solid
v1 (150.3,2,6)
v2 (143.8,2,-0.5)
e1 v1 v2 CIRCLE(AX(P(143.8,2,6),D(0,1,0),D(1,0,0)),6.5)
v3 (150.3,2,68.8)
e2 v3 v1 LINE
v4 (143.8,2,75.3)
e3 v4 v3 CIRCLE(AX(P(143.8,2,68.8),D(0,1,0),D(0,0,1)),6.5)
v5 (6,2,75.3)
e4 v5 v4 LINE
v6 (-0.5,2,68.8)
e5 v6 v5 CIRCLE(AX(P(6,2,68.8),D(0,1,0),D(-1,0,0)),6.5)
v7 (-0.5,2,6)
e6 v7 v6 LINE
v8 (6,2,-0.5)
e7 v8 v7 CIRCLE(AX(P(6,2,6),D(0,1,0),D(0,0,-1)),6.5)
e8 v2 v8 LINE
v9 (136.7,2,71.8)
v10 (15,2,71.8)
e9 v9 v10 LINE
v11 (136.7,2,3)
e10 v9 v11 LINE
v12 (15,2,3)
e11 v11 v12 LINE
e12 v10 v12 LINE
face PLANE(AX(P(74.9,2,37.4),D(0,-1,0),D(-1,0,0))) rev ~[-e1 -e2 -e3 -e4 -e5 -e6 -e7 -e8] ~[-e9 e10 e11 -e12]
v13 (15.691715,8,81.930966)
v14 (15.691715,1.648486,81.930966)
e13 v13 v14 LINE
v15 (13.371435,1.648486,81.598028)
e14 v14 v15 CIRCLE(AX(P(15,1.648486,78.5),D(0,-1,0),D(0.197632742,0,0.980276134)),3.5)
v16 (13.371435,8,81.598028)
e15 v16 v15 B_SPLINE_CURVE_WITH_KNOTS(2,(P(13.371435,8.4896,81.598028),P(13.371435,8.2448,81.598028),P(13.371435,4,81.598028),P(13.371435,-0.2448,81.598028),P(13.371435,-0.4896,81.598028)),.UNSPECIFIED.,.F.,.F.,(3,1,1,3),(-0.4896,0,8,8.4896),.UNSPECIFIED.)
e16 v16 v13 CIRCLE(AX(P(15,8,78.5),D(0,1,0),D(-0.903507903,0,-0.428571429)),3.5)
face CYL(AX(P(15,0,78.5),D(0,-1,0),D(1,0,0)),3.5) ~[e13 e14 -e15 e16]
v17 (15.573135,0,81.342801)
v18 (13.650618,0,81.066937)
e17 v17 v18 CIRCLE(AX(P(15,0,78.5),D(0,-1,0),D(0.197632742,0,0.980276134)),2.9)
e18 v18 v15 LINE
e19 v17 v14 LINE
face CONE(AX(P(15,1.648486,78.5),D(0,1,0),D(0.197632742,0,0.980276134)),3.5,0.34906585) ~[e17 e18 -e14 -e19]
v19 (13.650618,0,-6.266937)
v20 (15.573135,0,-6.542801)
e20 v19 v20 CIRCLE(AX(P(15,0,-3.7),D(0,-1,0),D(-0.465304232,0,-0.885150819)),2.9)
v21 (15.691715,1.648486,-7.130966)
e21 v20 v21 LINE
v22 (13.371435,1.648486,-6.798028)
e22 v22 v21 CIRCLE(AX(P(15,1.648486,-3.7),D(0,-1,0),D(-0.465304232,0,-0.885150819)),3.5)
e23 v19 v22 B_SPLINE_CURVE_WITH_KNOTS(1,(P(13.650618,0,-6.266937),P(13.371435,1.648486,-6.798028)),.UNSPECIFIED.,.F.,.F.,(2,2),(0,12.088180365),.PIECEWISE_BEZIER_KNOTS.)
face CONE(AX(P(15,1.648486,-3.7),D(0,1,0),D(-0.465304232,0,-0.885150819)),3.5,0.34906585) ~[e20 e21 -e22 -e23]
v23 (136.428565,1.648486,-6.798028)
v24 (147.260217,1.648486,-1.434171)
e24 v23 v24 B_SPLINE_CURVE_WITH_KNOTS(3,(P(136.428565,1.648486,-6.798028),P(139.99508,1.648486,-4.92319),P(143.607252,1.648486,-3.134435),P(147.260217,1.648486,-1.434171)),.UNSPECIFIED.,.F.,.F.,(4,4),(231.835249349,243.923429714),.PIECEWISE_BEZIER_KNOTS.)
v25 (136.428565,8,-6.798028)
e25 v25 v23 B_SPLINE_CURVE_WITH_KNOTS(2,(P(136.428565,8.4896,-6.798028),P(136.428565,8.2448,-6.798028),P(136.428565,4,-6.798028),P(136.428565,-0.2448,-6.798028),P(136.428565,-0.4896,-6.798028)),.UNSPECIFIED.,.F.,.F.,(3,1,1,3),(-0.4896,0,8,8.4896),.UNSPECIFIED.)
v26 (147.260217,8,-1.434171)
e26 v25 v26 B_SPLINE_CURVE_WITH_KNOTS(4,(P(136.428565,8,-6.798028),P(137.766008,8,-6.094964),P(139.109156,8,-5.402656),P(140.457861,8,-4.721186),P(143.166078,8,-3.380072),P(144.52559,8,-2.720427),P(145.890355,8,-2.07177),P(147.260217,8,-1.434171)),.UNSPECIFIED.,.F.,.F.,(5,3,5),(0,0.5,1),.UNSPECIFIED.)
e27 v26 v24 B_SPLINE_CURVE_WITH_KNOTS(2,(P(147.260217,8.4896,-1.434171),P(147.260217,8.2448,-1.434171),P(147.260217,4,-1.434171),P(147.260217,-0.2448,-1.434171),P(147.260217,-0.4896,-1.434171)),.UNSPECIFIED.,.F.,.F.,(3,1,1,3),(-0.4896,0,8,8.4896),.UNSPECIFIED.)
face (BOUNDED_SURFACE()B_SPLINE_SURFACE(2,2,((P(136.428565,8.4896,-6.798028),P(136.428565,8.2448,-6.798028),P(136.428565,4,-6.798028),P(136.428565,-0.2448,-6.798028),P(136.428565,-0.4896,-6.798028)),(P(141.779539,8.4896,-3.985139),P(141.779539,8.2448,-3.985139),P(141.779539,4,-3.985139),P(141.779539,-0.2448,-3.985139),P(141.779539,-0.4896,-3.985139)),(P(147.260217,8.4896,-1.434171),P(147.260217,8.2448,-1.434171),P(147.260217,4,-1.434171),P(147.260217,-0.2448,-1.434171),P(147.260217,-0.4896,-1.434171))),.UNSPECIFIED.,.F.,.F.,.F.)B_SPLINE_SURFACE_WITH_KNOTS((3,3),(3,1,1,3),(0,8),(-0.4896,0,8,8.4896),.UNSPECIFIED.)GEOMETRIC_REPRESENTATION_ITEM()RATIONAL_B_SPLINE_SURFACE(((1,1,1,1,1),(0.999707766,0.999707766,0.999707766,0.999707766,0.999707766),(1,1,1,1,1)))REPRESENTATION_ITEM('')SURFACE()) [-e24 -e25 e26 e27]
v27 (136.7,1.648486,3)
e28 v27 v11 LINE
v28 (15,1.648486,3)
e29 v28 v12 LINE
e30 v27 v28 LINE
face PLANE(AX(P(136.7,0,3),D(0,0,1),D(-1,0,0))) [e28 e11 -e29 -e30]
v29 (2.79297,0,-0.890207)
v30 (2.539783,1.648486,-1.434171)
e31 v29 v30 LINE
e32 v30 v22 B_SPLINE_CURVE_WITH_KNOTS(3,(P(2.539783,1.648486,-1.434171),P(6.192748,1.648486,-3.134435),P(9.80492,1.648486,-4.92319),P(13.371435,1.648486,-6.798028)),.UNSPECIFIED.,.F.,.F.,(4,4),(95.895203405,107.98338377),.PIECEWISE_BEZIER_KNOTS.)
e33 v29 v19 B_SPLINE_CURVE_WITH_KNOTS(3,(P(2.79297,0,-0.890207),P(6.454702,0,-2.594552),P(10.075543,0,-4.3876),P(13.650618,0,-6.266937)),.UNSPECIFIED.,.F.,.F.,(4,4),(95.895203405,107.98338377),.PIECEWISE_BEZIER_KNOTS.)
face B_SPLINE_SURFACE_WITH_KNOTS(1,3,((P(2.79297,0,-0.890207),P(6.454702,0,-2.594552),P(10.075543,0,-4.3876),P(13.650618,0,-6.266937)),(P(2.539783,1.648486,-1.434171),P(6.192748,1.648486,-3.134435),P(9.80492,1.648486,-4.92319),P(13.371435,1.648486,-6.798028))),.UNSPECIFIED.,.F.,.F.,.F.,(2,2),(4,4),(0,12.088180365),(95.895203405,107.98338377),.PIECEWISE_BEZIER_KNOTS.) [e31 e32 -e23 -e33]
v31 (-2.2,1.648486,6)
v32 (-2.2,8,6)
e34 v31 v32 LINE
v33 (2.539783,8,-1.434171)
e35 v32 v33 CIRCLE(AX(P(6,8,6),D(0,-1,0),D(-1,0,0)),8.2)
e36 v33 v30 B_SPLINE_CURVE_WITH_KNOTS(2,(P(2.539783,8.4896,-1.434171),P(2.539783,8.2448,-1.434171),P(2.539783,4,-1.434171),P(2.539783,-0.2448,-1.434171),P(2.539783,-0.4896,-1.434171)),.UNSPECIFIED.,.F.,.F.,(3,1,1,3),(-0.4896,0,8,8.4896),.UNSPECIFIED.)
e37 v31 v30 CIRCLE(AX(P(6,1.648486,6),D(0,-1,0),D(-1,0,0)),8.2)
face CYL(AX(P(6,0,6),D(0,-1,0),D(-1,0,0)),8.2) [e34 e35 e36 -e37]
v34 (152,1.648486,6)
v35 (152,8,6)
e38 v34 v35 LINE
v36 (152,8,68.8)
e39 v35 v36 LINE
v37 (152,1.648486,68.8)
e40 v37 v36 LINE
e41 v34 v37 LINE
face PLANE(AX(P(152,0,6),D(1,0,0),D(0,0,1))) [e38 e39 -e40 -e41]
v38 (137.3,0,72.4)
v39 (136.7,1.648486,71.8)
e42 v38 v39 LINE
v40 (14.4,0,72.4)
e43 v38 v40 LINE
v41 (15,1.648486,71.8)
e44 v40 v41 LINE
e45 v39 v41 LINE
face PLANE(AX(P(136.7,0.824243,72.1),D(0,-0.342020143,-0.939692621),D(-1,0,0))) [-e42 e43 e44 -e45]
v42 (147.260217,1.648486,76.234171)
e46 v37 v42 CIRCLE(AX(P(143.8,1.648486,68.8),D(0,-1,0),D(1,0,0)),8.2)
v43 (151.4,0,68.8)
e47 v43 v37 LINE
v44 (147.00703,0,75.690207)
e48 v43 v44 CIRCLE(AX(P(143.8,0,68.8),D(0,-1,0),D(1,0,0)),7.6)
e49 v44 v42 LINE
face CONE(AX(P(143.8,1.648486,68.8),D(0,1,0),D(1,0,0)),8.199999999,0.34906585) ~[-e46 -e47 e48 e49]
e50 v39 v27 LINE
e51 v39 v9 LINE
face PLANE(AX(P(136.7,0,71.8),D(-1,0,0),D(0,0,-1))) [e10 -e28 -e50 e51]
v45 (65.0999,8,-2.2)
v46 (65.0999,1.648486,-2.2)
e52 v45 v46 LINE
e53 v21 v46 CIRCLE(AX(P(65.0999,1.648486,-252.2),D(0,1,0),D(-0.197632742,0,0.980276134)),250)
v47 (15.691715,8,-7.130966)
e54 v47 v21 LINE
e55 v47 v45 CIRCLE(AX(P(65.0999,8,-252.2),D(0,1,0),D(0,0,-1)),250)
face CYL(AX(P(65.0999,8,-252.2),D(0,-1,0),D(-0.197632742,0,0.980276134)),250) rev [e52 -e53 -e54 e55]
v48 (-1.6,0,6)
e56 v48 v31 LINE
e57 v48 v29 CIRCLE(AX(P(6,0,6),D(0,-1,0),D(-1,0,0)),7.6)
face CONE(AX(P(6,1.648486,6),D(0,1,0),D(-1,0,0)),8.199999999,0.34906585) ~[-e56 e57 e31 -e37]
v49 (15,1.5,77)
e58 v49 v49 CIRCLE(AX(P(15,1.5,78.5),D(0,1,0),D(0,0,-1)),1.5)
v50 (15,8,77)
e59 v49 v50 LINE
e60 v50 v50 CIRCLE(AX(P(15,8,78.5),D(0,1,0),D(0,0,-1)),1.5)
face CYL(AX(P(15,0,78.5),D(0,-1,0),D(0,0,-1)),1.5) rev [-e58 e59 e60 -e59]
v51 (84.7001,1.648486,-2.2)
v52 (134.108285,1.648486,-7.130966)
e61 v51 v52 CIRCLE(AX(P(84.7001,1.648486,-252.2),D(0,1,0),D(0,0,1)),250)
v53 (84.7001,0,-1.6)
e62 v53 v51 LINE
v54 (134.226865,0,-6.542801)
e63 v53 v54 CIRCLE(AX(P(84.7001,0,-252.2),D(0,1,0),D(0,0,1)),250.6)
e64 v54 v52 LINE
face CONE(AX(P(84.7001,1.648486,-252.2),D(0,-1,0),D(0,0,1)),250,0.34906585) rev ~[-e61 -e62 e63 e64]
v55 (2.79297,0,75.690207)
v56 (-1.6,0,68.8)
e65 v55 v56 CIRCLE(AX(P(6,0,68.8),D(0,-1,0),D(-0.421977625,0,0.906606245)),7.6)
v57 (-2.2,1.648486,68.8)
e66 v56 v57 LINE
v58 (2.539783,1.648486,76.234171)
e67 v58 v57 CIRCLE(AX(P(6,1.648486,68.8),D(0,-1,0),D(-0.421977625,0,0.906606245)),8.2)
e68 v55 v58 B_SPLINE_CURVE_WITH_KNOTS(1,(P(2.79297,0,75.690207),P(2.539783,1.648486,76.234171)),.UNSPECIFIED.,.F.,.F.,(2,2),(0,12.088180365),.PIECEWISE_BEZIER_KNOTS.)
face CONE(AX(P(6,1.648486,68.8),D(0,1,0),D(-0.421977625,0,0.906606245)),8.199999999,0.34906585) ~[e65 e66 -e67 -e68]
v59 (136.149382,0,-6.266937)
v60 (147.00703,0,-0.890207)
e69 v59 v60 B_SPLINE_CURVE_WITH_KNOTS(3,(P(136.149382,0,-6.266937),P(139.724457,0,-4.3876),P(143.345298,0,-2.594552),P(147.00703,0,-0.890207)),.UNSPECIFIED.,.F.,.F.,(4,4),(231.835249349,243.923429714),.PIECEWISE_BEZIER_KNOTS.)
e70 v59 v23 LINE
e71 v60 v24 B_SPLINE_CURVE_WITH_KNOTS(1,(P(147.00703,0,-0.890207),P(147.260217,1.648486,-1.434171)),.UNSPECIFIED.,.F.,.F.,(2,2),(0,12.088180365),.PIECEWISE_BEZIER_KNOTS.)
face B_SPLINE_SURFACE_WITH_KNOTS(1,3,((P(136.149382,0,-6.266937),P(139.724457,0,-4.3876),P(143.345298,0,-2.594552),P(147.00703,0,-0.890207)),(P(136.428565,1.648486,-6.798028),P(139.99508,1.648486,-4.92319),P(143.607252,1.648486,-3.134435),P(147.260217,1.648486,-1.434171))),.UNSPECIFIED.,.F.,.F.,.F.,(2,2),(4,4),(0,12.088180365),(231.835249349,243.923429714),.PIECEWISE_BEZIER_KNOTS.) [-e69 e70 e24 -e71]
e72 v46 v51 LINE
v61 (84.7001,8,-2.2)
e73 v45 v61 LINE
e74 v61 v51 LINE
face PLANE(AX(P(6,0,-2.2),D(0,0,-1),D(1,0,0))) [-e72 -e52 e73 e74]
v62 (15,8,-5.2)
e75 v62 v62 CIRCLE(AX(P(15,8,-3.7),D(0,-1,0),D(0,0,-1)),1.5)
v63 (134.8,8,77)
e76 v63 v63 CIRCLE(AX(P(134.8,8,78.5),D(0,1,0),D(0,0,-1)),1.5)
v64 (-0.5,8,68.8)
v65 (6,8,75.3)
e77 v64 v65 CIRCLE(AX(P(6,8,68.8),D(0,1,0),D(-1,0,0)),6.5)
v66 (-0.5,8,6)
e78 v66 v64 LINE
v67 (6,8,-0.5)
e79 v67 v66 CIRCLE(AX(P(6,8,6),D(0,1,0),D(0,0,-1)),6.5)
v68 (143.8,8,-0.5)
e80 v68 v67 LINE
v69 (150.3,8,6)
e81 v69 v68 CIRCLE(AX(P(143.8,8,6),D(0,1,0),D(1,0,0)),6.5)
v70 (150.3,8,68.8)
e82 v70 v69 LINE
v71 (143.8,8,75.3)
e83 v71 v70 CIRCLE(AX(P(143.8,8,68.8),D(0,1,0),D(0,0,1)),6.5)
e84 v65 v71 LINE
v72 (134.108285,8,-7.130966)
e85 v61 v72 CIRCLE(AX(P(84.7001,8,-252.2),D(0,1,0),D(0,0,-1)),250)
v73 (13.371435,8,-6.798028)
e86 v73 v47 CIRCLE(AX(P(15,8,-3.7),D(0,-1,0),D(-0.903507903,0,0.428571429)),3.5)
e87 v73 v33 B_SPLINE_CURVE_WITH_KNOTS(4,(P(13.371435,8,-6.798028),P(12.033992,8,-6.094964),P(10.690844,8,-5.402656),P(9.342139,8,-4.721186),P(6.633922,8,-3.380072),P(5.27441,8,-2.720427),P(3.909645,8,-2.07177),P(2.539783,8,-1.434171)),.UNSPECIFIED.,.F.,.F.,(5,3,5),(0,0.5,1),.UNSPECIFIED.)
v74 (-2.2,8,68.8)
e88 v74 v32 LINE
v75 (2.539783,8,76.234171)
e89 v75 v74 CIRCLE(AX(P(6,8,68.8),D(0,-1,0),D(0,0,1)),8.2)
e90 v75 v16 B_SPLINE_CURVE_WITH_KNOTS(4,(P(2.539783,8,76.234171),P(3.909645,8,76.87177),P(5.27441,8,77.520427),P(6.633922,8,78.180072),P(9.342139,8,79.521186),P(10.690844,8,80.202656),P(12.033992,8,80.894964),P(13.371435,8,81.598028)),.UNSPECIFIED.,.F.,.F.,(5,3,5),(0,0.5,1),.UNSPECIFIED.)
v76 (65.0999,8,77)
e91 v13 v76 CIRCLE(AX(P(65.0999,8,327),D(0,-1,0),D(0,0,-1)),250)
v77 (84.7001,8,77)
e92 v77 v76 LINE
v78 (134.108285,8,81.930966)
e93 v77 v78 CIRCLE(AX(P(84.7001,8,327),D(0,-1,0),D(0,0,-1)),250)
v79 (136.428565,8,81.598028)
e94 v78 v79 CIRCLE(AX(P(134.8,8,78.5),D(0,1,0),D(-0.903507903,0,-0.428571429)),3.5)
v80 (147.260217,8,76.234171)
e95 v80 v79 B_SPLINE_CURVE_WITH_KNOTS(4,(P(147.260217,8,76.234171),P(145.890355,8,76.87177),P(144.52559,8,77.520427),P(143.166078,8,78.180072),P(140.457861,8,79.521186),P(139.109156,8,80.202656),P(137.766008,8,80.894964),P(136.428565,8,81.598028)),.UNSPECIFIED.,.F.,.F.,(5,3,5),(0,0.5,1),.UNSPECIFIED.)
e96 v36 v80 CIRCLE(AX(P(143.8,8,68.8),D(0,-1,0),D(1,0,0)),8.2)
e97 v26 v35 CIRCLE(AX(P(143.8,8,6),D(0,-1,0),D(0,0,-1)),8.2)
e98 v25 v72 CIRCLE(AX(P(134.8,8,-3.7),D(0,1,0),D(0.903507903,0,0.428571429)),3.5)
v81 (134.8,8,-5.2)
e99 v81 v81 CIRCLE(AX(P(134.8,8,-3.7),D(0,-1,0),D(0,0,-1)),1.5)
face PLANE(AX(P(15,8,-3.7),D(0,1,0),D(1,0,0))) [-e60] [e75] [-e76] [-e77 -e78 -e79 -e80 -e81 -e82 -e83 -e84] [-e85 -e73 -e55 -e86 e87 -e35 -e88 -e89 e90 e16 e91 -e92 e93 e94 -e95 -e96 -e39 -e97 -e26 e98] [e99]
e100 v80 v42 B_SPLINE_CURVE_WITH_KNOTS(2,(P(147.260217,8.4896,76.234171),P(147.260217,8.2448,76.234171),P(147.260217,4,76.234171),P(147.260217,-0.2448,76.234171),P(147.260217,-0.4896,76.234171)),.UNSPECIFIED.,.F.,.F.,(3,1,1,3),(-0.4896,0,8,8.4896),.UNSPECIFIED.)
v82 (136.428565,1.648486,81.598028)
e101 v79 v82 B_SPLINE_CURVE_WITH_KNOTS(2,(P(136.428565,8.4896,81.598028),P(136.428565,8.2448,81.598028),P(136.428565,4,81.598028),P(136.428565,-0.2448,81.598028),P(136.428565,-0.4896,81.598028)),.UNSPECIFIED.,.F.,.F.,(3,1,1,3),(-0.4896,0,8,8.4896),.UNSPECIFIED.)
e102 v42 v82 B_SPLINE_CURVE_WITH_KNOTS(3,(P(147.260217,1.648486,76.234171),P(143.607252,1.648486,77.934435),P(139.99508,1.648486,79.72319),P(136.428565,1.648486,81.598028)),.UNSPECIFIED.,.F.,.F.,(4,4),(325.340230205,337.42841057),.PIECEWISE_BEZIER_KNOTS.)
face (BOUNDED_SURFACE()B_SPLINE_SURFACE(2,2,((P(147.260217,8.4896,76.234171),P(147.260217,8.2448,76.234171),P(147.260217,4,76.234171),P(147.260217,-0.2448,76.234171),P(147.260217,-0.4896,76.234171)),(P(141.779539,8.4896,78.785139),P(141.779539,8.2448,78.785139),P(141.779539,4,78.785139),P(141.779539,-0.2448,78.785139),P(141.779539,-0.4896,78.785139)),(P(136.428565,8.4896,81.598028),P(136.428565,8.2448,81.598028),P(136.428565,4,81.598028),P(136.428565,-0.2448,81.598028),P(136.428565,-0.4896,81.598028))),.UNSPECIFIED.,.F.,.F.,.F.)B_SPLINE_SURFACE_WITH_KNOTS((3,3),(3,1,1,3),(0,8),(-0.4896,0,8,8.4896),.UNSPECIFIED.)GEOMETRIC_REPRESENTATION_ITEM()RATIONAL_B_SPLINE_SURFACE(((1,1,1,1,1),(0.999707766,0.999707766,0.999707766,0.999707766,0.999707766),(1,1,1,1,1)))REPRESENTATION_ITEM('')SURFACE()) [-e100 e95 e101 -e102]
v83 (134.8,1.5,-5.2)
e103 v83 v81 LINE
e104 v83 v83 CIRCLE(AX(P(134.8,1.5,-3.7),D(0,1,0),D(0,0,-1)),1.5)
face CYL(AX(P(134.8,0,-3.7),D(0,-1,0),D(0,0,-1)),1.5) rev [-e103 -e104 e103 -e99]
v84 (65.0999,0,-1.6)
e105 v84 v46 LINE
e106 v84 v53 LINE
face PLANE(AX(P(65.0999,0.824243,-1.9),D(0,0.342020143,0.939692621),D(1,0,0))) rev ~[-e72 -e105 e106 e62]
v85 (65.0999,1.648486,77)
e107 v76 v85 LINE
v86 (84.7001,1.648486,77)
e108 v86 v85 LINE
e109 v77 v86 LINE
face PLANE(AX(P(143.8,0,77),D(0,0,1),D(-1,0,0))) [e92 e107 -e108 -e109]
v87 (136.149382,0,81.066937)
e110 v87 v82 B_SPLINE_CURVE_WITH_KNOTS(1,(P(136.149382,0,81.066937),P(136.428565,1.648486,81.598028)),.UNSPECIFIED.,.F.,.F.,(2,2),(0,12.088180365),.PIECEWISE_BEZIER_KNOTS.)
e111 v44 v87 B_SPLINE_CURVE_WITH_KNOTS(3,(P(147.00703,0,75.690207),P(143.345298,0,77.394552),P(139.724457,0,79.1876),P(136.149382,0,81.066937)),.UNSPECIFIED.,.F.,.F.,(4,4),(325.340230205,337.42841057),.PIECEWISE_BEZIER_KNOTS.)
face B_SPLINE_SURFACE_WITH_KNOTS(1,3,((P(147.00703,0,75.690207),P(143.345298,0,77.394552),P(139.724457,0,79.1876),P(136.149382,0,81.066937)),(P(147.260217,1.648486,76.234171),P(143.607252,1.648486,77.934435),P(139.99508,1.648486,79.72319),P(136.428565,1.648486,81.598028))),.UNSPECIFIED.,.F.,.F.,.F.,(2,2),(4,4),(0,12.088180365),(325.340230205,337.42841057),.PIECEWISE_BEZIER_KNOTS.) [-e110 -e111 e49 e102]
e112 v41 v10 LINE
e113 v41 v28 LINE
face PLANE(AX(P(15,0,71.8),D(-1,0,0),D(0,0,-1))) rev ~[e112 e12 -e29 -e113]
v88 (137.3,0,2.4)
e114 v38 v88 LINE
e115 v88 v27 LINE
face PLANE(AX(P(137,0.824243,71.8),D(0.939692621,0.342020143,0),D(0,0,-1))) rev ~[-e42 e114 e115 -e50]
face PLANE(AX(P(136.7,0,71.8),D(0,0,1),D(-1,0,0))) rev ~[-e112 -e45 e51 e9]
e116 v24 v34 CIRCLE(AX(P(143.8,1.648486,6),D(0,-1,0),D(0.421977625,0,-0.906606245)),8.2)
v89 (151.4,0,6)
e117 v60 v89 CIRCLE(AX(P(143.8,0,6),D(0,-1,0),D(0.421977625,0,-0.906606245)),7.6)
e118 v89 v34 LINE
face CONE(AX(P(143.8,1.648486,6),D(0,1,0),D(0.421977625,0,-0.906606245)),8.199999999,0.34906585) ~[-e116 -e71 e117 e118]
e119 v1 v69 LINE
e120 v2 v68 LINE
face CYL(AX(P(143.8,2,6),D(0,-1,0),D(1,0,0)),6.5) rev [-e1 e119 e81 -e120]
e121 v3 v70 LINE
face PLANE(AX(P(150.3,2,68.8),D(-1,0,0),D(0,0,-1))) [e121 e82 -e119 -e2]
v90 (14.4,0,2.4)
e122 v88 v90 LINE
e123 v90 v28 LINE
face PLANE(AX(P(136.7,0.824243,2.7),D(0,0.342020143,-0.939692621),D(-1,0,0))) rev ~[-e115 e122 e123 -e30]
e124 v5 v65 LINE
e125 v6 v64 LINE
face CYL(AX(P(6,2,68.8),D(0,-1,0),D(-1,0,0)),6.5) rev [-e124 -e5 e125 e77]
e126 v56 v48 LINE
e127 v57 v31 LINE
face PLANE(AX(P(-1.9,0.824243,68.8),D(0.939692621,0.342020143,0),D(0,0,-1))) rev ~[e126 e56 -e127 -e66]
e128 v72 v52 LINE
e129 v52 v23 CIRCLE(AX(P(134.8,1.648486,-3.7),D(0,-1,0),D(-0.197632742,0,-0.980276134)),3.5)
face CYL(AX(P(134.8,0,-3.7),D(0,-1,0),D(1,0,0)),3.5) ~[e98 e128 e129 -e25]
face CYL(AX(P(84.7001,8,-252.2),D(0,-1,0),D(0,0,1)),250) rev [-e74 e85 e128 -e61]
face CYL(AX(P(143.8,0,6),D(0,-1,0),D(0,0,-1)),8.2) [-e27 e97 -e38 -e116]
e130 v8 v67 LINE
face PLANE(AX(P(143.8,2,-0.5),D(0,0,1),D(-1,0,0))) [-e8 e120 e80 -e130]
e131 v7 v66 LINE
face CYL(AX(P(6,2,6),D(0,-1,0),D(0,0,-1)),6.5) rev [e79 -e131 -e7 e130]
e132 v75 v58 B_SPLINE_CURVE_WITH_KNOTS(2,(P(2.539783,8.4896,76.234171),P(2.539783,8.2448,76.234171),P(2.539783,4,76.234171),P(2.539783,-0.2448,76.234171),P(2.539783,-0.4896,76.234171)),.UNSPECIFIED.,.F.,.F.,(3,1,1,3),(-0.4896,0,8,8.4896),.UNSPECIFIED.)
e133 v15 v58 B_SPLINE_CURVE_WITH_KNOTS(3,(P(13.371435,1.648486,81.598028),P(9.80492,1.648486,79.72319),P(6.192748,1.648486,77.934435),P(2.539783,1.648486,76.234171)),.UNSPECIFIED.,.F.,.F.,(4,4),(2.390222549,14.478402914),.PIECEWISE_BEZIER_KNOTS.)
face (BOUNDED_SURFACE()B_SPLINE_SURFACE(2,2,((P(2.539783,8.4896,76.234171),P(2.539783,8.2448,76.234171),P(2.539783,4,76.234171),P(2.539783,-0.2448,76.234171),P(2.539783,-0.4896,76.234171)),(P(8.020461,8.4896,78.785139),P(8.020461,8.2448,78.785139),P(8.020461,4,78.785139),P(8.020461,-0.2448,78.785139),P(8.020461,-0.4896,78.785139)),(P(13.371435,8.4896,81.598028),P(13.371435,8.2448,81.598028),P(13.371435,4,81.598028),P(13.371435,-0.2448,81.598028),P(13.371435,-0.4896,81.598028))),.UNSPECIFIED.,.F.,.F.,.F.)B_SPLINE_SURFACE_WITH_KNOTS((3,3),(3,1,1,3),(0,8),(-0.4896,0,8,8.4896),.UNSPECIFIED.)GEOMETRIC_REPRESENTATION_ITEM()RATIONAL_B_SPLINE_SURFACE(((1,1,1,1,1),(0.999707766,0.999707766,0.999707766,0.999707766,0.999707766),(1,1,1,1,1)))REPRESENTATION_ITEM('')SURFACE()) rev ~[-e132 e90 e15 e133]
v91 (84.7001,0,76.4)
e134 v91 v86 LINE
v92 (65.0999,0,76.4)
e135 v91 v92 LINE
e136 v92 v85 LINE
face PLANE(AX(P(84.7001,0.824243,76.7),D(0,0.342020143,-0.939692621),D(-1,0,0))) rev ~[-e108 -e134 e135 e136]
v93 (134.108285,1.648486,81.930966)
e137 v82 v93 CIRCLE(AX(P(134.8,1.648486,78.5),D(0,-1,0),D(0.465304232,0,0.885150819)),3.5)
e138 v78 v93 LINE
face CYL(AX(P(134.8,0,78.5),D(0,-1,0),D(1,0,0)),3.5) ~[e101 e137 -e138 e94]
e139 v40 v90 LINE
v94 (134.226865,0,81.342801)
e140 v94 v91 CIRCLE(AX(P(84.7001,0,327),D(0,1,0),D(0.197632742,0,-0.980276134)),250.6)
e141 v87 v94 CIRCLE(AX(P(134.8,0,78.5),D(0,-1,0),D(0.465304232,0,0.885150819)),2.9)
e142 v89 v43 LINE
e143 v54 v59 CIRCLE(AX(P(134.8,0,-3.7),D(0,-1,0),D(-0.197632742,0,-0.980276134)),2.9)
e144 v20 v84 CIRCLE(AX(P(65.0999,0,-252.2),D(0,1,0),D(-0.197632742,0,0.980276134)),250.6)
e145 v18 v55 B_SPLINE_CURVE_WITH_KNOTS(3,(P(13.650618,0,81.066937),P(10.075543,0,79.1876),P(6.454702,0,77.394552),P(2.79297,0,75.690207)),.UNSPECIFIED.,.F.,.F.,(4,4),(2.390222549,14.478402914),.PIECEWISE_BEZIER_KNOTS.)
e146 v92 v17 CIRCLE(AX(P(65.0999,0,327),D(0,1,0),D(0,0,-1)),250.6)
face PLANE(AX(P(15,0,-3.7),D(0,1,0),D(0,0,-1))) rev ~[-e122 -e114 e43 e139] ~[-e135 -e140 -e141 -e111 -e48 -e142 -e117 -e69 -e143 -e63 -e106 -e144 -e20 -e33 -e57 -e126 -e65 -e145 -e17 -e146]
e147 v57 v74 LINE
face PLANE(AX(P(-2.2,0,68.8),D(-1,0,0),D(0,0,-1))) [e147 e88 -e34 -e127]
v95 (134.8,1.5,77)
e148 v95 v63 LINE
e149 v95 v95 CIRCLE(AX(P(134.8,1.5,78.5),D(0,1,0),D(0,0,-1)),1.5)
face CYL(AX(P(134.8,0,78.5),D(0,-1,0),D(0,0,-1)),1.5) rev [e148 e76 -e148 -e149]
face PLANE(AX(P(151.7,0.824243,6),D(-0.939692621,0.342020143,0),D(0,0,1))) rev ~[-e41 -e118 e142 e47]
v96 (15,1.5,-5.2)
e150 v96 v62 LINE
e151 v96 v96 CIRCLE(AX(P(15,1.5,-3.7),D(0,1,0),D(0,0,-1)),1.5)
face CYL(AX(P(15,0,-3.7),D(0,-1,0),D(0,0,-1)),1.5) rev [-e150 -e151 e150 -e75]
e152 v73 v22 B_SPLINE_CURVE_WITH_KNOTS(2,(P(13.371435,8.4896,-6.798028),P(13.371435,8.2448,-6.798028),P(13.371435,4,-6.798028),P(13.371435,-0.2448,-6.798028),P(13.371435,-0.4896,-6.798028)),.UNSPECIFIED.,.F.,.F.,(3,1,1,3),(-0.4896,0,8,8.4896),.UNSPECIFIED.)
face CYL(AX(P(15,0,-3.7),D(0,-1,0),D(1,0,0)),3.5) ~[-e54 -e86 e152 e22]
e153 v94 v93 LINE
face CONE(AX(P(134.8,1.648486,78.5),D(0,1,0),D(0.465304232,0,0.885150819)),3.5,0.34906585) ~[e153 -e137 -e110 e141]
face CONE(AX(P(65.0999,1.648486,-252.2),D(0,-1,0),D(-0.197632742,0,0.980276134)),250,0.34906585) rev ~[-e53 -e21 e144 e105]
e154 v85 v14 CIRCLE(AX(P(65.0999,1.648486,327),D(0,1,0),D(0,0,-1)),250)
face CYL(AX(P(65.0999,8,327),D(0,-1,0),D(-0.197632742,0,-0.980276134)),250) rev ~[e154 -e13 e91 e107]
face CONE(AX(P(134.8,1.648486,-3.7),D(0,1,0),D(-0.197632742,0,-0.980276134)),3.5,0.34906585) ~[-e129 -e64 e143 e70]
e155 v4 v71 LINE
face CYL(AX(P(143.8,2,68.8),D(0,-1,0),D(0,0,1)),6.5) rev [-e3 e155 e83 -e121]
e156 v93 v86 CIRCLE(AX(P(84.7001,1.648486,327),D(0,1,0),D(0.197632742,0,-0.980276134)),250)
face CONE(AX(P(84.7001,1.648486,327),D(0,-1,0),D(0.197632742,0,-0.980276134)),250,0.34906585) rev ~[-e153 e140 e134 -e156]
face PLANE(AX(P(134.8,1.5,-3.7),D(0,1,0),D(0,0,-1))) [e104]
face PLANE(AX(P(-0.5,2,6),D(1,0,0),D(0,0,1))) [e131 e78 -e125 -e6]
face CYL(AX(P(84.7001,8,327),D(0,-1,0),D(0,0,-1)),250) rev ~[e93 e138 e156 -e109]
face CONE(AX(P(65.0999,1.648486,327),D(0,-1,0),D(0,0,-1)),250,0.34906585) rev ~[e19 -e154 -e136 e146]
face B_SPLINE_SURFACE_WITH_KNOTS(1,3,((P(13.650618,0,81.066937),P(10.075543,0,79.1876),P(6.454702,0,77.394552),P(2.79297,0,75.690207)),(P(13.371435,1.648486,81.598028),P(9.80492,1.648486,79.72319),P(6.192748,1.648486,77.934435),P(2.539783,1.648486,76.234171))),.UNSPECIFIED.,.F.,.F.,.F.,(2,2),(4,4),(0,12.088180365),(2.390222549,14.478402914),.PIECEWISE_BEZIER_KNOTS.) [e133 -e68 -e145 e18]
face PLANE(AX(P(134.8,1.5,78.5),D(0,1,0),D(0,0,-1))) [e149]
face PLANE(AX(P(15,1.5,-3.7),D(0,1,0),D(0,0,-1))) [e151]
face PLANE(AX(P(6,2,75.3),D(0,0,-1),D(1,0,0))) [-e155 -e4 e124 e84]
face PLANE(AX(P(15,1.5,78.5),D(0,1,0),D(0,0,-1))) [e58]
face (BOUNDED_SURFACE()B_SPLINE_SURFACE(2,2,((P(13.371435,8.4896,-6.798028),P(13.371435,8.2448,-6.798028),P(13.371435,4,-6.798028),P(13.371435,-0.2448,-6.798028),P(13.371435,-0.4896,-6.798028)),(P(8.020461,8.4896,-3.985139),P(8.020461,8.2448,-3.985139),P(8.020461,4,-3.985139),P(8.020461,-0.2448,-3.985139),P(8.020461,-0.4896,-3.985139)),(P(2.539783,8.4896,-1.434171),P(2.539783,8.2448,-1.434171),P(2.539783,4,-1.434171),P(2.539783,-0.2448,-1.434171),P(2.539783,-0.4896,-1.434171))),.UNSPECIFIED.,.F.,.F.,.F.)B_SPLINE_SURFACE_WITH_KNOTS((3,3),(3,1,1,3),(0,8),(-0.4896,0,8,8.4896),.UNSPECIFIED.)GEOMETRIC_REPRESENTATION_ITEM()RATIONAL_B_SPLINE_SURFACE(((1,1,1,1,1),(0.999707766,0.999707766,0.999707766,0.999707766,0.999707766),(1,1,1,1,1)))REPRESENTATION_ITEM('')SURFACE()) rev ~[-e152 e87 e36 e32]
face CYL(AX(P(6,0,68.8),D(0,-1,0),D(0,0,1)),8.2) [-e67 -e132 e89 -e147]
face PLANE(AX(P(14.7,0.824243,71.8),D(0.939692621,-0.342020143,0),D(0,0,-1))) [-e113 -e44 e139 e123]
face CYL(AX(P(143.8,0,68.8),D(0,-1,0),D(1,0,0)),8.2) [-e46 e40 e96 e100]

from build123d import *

# Parameters (mm, degrees)
EXTRUDE_1_DEPTH       = 2
EXTRUDE_2_DEPTH       = 8
SKETCH_6_R            = 3.5
SKETCH_6_R_2          = 1.5
EXTRUDE_10_DEPTH      = 8
SKETCH_7_W            = 121.7
SKETCH_7_H            = 68.8
CUT_EXTRUDE_1_DEPTH   = 10
FILLET_1_R            = 250
SKETCH_6_2_R          = 1.5
EXTRUDE_11_DEPTH      = 1.5
CHAMFER_1_SIZE        = 0.6
CHAMFER_1_SIZE2       = 1.648486452
CUT_EXTRUDE_START     = -6
CUT_EXTRUDE_1_2_DEPTH = 6


with BuildPart() as part:
    # 草图1 → 凸台-拉伸1 (new body)
    with BuildSketch(Plane(origin=(0, 0, 0), x_dir=(1, 0, 0), z_dir=(0, 1, 0))):
        with BuildLine():
            Line((6, 0.2), (143.8, 0.2))
            ThreePointArc((143.8, 0.2), (148.184062043, -1.615937957), (150, -6))
            Line((150, -6), (150, -68.8))
            ThreePointArc((150, -68.8), (148.184062043, -73.184062043), (143.8, -75))
            Line((143.8, -75), (6, -75))
            ThreePointArc((6, -75), (1.615937957, -73.184062043), (-0.2, -68.8))
            Line((-0.2, -68.8), (-0.2, -6))
            ThreePointArc((-0.2, -6), (1.615937957, -1.615937957), (6, 0.2))
        make_face()
    extrude(amount=EXTRUDE_1_DEPTH)

    # 草图1<5> → 拉伸-薄壁2 (add)
    with BuildSketch(Plane(origin=(0, 0, 0), x_dir=(1, 0, 0), z_dir=(0, 1, 0))):
        with BuildLine():
            Line((6, 2.2), (143.8, 2.2))
            ThreePointArc((143.8, 2.2), (149.598275606, -0.201724394), (152, -6))
            Line((152, -6), (152, -68.8))
            ThreePointArc((152, -68.8), (149.598275606, -74.598275606), (143.8, -77))
            Line((143.8, -77), (6, -77))
            ThreePointArc((6, -77), (0.201724394, -74.598275606), (-2.2, -68.8))
            Line((-2.2, -68.8), (-2.2, -6))
            ThreePointArc((-2.2, -6), (0.201724394, -0.201724394), (6, 2.2))
        make_face()
        with BuildLine():
            Line((6, 0.2), (143.8, 0.2))
            ThreePointArc((143.8, 0.2), (148.184062043, -1.615937957), (150, -6))
            Line((150, -6), (150, -68.8))
            ThreePointArc((150, -68.8), (148.184062043, -73.184062043), (143.8, -75))
            Line((143.8, -75), (6, -75))
            ThreePointArc((6, -75), (1.615937957, -73.184062043), (-0.2, -68.8))
            Line((-0.2, -68.8), (-0.2, -6))
            ThreePointArc((-0.2, -6), (1.615937957, -1.615937957), (6, 0.2))
        make_face(mode=Mode.SUBTRACT)
    extrude(amount=EXTRUDE_2_DEPTH)

    # 草图6 → 凸台-拉伸10 (add)
    # profile 1 of 4: a face of its own
    with BuildSketch(Plane(origin=(0, 0, 0), x_dir=(1, 0, 0), z_dir=(0, 1, 0))):
        with Locations((15, 3.7)):
            Circle(SKETCH_6_R)
        with Locations(Location((15, 3.7, 0), (0, 0, 90))):
            Circle(SKETCH_6_R_2, mode=Mode.SUBTRACT)
    # profile 2 of 4: a face of its own
    with BuildSketch(Plane(origin=(0, 0, 0), x_dir=(1, 0, 0), z_dir=(0, 1, 0))):
        with Locations((15, -78.5)):
            Circle(SKETCH_6_R)
        with Locations(Location((15, -78.5, 0), (0, 0, 90))):
            Circle(SKETCH_6_R_2, mode=Mode.SUBTRACT)
    # profile 3 of 4: a face of its own
    with BuildSketch(Plane(origin=(0, 0, 0), x_dir=(1, 0, 0), z_dir=(0, 1, 0))):
        with Locations((134.8, 3.7)):
            Circle(SKETCH_6_R)
        with Locations(Location((134.8, 3.7, 0), (0, 0, 90))):
            Circle(SKETCH_6_R_2, mode=Mode.SUBTRACT)
    # profile 4 of 4: a face of its own
    with BuildSketch(Plane(origin=(0, 0, 0), x_dir=(1, 0, 0), z_dir=(0, 1, 0))):
        with Locations((134.8, -78.5)):
            Circle(SKETCH_6_R)
        with Locations(Location((134.8, -78.5, 0), (0, 0, 90))):
            Circle(SKETCH_6_R_2, mode=Mode.SUBTRACT)
    extrude(amount=EXTRUDE_10_DEPTH)

    # 草图7 → Cut-Extrude 1 (cut)
    with BuildSketch(Plane(origin=(0, 0, 0), x_dir=(-1, 0, 0), z_dir=(0, -1, 0))):
        with Locations((-75.85, -37.4)):
            Rectangle(SKETCH_7_W, SKETCH_7_H)
    extrude(amount=-CUT_EXTRUDE_1_DEPTH, mode=Mode.SUBTRACT)

    # 圆角1
    fillet_1_edges = [part.edges().sort_by_distance(p)[0] for p in [
        (18.16227766, 4, 77),
        (11.83772234, 4, 77),
        (137.96227766, 4, 77),
        (131.63772234, 4, 77),
        (131.63772234, 4, -2.2),
        (137.96227766, 4, -2.2),
        (11.83772234, 4, -2.2),
        (18.16227766, 4, -2.2),
    ]]
    fillet(fillet_1_edges, radius=FILLET_1_R)

    # 草图6<2> → 凸台-拉伸11 (add)
    with BuildSketch(Plane(origin=(0, 0, 0), x_dir=(1, 0, 0), z_dir=(0, 1, 0))):
        with Locations(Location((15, 3.7, 0), (0, 0, 90))):
            Circle(SKETCH_6_2_R)
        with Locations(Location((15, -78.5, 0), (0, 0, 90))):
            Circle(SKETCH_6_2_R)
        with Locations(Location((134.8, 3.7, 0), (0, 0, 90))):
            Circle(SKETCH_6_2_R)
        with Locations(Location((134.8, -78.5, 0), (0, 0, 90))):
            Circle(SKETCH_6_2_R)
    extrude(amount=EXTRUDE_11_DEPTH)

    # 倒角1
    chamfer_1_edges = [part.edges().sort_by_distance(p)[0] for p in [
        (136.7, 0, 37.4),
        (75.85, 0, 71.8),
        (15, 0, 37.4),
        (75.85, 0, 3),
        (14.502874151, 0, 81.964515246),
        (74.9, 0, 77),
        (135.297125849, 0, 81.964515246),
        (150.714252509, 0, 73.20830038),
        (135.297125849, 0, -7.164515246),
        (74.9, 0, -2.2),
        (14.502874151, 0, -7.164515246),
        (-0.914252509, 0, 1.59169962),
        (7.988030543, 0, 78.850628869),
        (40.273083878, 0, 78.235796001),
        (141.811969457, 0, 78.850628869),
        (109.526916122, 0, 78.235796001),
        (141.811969457, 0, -4.050628869),
        (109.526916122, 0, -3.435796001),
        (7.988030543, 0, -4.050628869),
        (40.273083878, 0, -3.435796001),
        (-2.2, 0, 37.4),
        (-0.914252509, 0, 73.20830038),
        (152, 0, 37.4),
        (150.714252509, 0, 1.59169962),
    ]]
    chamfer_1_side = [part.faces().sort_by_distance(p)[0] for p in [
        (0.58783664, 0, 72.250617658),
    ]]
    chamfer(chamfer_1_edges, length=CHAMFER_1_SIZE, length2=CHAMFER_1_SIZE2, reference=chamfer_1_side[0])

    # 草图11 → Cut-Extrude 1 2 (cut)
    with BuildSketch(Plane(origin=(0, 8, 0), x_dir=(1, 0, 0), z_dir=(0, 1, 0)).offset(CUT_EXTRUDE_START)):
        with BuildLine():
            Line((143.8, 0.5), (6, 0.5))
            ThreePointArc((6, 0.5), (1.403805922, -1.403805922), (-0.5, -6))
            Line((-0.5, -6), (-0.5, -68.8))
            ThreePointArc((-0.5, -68.8), (1.403805922, -73.396194078), (6, -75.3))
            Line((6, -75.3), (143.8, -75.3))
            ThreePointArc((143.8, -75.3), (148.396194078, -73.396194078), (150.3, -68.8))
            Line((150.3, -68.8), (150.3, -6))
            ThreePointArc((150.3, -6), (148.396194078, -1.403805922), (143.8, 0.5))
        make_face()
        with BuildLine():
            Line((143.8, 0.2), (6, 0.2))
            ThreePointArc((6, 0.2), (1.615937957, -1.615937957), (-0.2, -6))
            Line((-0.2, -6), (-0.2, -68.8))
            ThreePointArc((-0.2, -68.8), (1.615937957, -73.184062043), (6, -75))
            Line((6, -75), (143.8, -75))
            ThreePointArc((143.8, -75), (148.184062043, -73.184062043), (150, -68.8))
            Line((150, -68.8), (150, -6))
            ThreePointArc((150, -6), (148.184062043, -1.615937957), (143.8, 0.2))
        make_face(mode=Mode.SUBTRACT)
    extrude(amount=CUT_EXTRUDE_1_2_DEPTH, mode=Mode.SUBTRACT)


solid = part.part
